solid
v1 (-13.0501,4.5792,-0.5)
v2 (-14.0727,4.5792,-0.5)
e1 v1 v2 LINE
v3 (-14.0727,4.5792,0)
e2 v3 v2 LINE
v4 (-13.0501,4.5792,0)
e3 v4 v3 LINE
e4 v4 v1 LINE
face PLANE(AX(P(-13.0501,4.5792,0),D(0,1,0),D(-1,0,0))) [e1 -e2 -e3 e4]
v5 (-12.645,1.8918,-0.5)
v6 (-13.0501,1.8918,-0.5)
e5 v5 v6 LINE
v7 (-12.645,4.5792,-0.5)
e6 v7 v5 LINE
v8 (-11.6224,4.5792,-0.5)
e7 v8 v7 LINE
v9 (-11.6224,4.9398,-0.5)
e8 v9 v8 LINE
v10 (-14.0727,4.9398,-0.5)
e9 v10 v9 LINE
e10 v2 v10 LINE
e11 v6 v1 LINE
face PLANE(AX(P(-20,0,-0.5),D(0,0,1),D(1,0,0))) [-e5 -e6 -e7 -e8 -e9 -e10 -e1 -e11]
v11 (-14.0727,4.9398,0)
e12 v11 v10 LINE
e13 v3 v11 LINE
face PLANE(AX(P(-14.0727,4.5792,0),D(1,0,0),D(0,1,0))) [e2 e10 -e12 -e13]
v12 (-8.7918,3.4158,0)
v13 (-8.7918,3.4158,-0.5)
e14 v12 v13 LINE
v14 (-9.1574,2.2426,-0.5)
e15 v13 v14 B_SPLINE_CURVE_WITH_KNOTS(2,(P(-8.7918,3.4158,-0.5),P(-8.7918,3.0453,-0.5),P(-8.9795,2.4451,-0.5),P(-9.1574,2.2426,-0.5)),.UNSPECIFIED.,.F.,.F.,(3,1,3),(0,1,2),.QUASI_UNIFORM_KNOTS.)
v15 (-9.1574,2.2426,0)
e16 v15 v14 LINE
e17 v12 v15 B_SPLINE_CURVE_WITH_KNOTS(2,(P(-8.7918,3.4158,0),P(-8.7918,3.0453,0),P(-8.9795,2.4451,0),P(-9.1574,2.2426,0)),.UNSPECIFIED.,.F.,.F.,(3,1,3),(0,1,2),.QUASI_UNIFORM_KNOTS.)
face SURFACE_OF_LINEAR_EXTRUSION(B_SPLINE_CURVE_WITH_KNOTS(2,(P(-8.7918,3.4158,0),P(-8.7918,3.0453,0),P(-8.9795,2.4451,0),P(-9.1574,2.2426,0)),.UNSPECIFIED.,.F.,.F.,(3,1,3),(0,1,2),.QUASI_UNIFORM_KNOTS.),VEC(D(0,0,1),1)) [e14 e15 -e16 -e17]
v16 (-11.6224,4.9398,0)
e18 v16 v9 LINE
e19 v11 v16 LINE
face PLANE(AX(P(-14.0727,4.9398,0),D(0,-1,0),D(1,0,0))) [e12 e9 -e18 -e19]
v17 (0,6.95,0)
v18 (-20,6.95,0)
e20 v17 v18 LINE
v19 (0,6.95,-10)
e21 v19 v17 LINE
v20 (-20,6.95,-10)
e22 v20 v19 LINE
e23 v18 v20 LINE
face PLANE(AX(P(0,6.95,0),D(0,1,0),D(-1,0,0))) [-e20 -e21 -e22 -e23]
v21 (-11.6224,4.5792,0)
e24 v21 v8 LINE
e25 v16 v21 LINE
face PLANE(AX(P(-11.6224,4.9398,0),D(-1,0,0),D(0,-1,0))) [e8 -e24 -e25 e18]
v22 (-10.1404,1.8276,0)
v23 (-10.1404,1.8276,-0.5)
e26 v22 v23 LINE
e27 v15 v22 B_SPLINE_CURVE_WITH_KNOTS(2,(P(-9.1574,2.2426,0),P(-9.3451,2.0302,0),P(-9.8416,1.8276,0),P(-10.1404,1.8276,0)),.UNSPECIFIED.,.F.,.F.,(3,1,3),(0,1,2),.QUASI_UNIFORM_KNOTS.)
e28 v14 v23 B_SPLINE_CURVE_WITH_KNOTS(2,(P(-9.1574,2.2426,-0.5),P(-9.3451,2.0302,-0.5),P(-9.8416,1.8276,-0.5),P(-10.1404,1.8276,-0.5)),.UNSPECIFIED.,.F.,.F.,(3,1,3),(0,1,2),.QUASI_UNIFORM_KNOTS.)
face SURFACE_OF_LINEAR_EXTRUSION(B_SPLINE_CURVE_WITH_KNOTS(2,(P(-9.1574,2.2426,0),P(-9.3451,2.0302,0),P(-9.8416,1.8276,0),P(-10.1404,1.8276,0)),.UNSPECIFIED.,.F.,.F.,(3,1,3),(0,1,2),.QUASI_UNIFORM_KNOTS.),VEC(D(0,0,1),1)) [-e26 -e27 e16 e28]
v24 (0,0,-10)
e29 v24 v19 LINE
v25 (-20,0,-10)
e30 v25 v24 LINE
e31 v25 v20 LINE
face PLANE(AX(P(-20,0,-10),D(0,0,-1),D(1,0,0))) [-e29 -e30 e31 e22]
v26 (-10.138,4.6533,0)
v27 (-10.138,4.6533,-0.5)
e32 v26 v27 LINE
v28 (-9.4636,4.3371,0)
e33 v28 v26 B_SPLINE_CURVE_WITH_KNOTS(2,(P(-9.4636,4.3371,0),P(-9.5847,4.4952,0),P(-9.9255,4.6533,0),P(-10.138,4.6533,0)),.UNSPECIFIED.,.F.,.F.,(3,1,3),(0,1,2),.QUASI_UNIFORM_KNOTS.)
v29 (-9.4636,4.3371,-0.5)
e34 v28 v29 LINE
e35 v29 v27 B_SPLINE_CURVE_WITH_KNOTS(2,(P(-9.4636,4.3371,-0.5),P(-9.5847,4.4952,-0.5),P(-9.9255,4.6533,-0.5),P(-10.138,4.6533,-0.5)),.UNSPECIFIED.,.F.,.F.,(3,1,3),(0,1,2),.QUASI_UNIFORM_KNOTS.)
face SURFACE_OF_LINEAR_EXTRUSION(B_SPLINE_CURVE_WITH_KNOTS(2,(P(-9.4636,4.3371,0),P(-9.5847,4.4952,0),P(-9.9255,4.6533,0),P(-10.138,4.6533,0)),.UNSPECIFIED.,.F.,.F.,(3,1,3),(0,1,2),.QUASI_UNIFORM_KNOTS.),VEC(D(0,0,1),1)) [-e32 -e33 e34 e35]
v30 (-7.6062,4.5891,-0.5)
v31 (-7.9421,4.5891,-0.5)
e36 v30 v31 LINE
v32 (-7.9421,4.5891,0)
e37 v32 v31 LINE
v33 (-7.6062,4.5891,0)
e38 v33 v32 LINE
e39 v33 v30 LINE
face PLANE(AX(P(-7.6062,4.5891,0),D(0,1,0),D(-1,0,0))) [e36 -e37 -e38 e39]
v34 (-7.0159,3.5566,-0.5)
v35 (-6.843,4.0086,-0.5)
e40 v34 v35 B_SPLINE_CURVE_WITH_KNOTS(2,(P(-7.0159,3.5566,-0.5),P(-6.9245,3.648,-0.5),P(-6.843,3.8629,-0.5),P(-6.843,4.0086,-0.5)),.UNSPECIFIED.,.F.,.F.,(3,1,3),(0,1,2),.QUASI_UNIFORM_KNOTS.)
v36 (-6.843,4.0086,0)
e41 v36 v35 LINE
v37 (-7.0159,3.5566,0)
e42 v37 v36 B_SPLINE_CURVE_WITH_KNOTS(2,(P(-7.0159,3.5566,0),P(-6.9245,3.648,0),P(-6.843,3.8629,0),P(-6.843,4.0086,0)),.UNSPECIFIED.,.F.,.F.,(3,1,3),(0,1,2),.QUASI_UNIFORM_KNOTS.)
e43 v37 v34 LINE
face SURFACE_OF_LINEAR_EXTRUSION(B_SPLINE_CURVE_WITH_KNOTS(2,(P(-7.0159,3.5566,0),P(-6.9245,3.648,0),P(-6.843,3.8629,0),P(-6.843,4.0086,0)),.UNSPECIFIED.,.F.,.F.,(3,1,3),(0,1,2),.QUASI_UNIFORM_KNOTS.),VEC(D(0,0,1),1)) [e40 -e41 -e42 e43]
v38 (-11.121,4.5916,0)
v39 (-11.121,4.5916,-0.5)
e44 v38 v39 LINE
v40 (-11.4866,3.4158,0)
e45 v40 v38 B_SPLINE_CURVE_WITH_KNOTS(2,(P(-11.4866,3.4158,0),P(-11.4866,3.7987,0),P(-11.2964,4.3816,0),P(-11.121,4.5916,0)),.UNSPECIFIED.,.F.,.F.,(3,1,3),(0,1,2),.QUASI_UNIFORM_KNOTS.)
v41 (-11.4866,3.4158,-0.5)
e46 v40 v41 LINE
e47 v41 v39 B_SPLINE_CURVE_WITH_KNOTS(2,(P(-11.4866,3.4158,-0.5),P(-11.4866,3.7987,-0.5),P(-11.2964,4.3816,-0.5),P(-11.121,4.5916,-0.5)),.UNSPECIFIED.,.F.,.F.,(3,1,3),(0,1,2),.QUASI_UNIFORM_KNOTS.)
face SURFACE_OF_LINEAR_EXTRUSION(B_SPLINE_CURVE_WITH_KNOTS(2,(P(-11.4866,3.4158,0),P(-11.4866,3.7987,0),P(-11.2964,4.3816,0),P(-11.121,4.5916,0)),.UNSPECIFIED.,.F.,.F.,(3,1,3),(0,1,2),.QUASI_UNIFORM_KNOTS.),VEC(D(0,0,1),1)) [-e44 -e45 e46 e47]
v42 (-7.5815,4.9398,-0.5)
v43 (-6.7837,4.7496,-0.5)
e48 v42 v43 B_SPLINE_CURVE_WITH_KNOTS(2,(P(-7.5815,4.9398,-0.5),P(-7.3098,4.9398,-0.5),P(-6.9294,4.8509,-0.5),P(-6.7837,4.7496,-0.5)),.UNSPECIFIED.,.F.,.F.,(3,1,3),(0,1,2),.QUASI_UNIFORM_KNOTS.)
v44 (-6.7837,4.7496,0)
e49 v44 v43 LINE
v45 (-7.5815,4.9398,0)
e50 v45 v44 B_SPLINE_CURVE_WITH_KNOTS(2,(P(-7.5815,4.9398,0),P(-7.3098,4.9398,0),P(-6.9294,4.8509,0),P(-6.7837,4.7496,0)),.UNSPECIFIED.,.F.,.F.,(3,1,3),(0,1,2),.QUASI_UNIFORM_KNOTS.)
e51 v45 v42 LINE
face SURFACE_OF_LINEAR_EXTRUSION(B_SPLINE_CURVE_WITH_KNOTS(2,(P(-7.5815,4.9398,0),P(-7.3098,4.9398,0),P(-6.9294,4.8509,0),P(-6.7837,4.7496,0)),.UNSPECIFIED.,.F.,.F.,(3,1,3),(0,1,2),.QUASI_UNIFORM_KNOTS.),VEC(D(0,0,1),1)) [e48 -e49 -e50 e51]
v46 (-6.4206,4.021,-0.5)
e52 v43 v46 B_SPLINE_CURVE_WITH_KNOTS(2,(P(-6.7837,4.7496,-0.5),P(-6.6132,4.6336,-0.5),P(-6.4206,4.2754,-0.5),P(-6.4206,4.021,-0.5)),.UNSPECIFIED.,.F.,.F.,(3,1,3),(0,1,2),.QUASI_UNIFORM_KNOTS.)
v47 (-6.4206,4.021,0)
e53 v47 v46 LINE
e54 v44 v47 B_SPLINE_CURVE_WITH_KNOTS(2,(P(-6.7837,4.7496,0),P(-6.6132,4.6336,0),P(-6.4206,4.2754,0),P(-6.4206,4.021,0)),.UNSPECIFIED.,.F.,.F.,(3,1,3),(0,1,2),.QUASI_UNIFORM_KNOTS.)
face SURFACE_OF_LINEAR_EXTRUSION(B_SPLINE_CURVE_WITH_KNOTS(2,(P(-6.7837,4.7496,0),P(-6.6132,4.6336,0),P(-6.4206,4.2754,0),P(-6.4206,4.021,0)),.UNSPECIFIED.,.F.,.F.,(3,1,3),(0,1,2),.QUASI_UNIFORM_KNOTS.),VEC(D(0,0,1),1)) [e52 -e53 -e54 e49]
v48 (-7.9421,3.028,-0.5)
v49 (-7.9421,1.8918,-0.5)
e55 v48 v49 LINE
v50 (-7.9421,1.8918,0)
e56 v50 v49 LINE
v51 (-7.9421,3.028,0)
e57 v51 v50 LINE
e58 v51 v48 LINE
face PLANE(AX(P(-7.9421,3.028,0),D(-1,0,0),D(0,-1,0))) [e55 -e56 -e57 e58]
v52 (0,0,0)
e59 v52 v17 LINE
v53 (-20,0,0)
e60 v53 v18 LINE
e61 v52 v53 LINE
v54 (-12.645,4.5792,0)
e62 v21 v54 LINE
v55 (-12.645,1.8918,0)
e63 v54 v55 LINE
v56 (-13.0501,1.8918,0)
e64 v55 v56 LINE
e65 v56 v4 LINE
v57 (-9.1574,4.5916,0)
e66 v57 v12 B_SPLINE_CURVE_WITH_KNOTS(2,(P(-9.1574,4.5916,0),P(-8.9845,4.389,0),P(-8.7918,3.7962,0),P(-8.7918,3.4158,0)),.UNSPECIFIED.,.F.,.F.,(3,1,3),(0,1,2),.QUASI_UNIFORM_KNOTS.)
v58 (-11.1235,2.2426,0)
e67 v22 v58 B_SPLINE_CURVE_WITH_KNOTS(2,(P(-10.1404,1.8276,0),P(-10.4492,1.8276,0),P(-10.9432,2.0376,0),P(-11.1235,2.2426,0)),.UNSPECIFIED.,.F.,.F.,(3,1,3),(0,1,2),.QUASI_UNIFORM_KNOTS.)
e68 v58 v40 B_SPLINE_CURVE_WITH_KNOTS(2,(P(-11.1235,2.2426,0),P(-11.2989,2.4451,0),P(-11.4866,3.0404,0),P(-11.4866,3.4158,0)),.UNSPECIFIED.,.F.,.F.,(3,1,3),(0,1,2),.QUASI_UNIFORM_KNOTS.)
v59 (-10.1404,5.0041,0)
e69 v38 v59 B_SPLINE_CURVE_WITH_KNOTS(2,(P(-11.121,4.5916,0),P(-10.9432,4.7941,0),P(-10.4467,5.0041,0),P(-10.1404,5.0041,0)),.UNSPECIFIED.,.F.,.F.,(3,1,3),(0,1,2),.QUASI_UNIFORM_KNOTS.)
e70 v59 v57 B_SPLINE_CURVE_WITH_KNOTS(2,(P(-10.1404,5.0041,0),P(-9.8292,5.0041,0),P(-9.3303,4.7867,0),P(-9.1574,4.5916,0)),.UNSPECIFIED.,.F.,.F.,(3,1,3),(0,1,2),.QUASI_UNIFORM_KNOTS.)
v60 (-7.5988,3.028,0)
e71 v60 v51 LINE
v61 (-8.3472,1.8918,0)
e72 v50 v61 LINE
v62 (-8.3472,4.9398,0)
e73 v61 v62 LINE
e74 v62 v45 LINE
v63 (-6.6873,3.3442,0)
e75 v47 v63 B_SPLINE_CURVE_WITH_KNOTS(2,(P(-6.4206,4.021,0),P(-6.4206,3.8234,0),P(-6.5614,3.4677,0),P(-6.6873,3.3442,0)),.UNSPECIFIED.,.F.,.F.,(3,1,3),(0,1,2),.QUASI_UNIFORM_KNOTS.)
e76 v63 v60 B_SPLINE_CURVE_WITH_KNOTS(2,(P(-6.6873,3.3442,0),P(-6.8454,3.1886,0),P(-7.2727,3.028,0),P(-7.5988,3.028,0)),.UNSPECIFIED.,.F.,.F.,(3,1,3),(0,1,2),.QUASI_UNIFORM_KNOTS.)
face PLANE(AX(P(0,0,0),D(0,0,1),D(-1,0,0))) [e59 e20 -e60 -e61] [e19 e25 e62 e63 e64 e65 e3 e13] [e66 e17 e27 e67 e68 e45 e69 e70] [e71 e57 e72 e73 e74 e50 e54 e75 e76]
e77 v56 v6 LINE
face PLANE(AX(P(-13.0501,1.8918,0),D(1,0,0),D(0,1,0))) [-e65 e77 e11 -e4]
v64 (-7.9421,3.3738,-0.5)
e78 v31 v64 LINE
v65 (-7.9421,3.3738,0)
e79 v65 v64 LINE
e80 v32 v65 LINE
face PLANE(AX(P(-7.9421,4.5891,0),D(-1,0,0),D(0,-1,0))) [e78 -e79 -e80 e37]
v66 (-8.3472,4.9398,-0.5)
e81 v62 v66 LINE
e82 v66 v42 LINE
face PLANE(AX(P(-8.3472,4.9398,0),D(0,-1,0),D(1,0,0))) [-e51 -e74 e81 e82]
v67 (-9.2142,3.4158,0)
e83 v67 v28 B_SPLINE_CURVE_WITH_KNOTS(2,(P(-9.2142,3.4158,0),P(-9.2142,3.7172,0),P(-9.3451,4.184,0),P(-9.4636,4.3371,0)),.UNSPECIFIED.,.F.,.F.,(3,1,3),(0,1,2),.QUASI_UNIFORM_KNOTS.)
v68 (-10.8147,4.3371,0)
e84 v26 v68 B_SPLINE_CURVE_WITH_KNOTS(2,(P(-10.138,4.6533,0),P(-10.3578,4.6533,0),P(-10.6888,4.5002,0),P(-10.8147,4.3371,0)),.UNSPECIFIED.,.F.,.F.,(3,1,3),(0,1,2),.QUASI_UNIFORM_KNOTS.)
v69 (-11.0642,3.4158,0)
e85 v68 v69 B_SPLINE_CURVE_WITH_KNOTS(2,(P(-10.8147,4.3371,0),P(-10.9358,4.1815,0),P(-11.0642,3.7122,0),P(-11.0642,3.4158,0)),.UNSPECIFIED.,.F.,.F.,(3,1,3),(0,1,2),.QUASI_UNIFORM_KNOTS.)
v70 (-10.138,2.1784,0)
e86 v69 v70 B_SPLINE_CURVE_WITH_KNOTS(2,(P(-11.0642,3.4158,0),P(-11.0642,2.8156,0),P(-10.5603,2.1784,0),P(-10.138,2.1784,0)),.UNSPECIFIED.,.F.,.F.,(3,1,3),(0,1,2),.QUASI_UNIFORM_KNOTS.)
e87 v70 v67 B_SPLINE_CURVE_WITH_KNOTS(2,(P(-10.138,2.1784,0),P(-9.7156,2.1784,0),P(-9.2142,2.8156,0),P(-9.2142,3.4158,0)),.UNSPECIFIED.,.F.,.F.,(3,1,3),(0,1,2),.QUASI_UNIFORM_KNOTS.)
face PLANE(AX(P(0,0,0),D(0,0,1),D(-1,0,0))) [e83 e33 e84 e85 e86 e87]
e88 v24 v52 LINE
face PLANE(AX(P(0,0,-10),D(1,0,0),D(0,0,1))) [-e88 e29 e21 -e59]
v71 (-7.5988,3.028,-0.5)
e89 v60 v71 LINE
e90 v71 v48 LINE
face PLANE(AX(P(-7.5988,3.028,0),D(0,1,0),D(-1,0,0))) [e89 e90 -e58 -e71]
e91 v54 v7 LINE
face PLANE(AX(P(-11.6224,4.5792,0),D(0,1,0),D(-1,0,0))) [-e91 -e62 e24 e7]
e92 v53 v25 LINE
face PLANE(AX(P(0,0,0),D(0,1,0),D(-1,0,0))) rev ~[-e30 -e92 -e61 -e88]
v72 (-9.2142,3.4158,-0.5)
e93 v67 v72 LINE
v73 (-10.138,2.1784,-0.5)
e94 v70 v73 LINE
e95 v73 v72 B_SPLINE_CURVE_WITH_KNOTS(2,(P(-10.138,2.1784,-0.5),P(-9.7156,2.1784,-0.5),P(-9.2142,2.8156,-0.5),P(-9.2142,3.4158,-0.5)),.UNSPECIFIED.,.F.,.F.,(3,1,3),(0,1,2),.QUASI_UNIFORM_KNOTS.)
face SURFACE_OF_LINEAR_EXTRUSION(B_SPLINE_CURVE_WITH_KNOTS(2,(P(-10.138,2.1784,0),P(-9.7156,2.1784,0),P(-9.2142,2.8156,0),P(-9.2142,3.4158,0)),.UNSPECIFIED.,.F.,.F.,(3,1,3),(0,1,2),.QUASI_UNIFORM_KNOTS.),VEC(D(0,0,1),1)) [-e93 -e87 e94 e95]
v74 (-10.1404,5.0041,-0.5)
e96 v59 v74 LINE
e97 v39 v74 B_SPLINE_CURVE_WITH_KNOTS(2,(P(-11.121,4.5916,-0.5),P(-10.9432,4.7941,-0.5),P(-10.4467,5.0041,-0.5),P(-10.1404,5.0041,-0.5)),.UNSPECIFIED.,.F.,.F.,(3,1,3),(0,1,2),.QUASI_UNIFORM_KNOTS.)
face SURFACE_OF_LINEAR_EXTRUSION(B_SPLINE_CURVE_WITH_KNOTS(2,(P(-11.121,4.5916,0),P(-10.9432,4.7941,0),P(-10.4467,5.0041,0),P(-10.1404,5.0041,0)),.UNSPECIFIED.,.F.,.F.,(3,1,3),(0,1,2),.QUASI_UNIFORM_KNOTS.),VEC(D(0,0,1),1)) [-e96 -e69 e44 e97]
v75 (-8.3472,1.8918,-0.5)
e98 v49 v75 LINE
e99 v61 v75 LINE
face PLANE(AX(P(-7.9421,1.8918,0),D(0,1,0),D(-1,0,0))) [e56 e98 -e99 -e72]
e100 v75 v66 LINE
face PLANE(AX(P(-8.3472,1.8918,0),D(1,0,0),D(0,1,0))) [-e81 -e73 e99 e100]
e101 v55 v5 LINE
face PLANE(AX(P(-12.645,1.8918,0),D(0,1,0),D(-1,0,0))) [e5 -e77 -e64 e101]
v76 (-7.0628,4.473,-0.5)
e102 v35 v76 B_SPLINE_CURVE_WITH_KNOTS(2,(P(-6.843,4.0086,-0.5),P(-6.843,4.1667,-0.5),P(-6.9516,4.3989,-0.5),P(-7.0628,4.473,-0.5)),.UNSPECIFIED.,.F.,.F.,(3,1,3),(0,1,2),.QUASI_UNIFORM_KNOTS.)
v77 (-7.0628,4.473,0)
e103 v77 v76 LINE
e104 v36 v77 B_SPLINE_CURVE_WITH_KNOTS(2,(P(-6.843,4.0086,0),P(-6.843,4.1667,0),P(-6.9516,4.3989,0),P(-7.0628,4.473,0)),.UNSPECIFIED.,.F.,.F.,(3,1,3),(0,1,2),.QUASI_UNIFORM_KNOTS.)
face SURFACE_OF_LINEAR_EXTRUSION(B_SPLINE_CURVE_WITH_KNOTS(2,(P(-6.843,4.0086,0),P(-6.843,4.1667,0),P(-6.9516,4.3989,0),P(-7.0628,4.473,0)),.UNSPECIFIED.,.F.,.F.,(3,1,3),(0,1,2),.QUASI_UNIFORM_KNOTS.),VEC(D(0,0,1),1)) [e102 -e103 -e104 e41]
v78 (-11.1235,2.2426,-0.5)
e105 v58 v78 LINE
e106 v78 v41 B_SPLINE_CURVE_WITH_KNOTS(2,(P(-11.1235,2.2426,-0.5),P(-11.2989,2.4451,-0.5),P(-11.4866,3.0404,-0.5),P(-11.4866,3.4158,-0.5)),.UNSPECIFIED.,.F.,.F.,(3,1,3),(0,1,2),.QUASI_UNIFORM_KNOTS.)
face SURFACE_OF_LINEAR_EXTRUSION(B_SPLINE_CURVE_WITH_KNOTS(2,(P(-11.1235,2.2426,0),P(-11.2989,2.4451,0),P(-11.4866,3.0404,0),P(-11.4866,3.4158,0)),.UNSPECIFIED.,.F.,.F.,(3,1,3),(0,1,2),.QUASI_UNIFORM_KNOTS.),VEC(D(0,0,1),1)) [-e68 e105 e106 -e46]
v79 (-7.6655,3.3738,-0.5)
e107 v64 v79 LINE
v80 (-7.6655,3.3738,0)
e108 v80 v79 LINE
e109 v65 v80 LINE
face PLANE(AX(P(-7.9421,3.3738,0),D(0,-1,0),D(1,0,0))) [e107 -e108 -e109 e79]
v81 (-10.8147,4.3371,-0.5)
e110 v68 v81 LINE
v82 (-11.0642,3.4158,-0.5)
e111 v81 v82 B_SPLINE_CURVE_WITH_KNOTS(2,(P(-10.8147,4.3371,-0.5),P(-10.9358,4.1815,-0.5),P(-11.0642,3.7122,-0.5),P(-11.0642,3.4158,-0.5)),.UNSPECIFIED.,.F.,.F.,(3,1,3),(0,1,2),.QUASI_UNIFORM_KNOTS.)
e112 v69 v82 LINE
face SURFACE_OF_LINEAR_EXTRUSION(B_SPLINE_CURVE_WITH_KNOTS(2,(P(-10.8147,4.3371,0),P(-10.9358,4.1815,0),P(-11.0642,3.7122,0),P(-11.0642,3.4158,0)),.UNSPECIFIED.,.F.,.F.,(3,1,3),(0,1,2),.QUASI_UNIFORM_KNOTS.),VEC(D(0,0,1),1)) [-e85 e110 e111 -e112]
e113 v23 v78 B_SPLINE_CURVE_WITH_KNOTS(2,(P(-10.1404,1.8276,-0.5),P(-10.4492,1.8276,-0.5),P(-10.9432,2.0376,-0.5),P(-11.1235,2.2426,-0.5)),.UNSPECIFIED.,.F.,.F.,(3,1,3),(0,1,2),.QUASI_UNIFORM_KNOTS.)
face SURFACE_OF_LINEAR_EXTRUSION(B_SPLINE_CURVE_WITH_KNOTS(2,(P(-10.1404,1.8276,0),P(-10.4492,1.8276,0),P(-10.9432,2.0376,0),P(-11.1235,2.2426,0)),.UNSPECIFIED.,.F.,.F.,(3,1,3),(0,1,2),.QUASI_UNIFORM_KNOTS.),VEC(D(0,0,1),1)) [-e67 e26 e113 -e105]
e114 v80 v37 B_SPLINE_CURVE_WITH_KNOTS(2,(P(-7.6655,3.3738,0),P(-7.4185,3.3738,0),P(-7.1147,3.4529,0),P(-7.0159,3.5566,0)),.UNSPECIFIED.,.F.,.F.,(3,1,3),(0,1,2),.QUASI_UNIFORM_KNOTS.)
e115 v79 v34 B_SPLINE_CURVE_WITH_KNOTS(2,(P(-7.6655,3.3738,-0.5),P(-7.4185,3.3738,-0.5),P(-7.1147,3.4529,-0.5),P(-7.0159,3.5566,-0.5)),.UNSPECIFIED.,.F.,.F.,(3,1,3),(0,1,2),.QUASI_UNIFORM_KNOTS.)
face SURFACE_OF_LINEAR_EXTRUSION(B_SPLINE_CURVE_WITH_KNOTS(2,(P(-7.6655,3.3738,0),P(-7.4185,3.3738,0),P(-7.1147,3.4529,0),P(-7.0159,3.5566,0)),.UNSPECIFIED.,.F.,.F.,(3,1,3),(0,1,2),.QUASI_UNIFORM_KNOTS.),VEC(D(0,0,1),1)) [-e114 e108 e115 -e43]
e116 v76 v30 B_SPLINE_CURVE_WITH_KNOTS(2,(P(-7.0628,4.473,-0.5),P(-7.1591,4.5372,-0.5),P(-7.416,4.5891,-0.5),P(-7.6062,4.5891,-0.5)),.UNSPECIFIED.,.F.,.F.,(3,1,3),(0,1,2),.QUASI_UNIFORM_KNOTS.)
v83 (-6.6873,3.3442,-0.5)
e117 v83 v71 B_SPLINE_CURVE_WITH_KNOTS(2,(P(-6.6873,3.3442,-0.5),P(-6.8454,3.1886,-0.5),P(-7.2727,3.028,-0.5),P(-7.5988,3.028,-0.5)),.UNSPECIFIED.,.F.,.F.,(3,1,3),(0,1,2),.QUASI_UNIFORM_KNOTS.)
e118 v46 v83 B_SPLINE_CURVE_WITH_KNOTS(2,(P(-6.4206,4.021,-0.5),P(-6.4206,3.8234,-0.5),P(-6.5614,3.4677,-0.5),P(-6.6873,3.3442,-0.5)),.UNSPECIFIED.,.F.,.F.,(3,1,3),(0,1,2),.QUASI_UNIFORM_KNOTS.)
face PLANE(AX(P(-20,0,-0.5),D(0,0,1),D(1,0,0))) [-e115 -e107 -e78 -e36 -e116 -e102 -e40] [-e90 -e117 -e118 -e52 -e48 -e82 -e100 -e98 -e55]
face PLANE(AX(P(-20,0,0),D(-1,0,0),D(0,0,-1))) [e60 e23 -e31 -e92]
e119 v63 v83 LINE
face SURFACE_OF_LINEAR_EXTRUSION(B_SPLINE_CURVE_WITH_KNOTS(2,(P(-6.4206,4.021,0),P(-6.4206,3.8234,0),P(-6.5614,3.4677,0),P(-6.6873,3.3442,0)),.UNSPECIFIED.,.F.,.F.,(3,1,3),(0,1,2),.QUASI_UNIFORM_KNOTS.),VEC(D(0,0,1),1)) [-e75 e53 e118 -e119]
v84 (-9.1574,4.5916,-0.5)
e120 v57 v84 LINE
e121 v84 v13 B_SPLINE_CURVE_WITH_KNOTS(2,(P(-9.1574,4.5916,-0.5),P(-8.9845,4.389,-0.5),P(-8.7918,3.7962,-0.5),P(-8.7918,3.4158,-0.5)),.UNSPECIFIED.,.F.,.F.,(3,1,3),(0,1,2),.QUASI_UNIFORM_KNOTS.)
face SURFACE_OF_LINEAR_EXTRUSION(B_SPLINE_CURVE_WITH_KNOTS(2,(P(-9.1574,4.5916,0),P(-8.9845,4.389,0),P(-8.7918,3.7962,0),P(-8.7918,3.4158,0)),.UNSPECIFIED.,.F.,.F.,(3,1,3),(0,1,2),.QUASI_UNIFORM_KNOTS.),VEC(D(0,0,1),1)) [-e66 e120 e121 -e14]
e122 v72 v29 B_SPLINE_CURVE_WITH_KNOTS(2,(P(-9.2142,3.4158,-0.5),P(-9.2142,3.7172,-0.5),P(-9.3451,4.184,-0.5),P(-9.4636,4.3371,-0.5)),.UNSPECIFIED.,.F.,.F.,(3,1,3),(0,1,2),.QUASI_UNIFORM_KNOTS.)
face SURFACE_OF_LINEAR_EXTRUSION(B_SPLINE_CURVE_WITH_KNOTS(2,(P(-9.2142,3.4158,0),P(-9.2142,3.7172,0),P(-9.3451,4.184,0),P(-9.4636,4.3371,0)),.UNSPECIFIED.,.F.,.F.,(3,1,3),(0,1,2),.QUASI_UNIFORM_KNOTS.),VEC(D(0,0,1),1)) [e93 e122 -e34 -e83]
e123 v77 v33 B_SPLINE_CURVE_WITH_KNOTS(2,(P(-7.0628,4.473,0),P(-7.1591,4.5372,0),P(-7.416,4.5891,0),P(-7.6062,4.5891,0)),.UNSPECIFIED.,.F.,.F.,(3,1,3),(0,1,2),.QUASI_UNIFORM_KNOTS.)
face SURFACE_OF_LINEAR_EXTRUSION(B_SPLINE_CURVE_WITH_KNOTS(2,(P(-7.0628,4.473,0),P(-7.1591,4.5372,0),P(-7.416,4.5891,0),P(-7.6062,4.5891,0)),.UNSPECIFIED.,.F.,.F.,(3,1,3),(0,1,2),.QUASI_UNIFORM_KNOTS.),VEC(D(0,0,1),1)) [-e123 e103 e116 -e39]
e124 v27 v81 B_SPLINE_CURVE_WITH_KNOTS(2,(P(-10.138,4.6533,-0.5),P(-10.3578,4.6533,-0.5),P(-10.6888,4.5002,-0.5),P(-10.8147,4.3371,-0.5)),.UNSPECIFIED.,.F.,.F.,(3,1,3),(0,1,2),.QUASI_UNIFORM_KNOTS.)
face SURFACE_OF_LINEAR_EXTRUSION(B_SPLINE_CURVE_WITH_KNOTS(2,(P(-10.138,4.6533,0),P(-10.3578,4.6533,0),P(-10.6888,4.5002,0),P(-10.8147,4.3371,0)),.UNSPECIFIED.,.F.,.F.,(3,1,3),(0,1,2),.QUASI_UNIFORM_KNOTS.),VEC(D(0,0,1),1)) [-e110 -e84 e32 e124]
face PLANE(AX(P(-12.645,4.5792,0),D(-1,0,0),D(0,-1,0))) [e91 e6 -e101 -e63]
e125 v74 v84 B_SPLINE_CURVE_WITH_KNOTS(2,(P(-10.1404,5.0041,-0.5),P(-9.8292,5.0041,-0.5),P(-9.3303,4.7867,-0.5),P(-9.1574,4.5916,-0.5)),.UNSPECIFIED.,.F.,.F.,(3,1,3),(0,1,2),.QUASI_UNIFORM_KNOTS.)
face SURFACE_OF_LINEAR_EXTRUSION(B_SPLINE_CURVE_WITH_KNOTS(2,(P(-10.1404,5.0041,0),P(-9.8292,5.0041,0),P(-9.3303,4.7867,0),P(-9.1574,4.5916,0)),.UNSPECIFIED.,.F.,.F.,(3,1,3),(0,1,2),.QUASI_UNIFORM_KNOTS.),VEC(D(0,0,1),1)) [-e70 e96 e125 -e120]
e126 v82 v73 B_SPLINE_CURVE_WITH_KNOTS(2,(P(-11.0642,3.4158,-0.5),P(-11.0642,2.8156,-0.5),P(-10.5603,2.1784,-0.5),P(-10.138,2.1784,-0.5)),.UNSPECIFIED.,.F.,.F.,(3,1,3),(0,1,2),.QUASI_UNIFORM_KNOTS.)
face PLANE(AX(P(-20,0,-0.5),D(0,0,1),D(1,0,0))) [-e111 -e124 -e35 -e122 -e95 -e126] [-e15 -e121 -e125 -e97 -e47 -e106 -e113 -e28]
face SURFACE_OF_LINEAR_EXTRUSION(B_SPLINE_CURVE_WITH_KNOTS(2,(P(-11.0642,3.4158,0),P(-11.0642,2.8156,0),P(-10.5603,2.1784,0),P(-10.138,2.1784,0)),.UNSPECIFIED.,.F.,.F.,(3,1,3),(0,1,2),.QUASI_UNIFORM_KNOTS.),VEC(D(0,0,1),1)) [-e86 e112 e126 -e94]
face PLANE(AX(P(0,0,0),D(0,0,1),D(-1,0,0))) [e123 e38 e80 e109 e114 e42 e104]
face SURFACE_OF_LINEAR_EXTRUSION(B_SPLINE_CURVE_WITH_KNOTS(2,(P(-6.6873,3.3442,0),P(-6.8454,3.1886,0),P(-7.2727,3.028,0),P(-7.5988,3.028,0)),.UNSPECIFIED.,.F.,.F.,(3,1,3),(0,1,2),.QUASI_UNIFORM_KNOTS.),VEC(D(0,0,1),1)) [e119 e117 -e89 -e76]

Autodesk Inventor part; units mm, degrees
ref_plane "YZ Plane" through (0, 0, 0) normal (1, 0, 0) x (0, 1, 0)
ref_plane "XZ Plane" through (0, 0, 0) normal (0, 1, 0) x (-1, 0, 0)
ref_plane "XY Plane" through (0, 0, 0) normal (0, 0, 1) x (1, 0, 0)
sketch "Sketch1" plane through (0, 0, 0) normal (0, 1, 0) x (-1, 0, 0)
  line L0 (0, 0) -> (20, 0)
  line L1 (20, 0) -> (20, -10)
  line L2 (20, -10) -> (0, -10)
  line L3 (0, -10) -> (0, 0)
  dimension "d0" = 20
  dimension "d1" = 10
extrude "Extrusion1" add sketch "Sketch1" along normal blind 6.95
sketch "Sketch2" plane through (-20, 0, 0) normal (0, 0, 1) x (1, 0, 0)
  line L0 (5.9298, 5.0041) -> (16.3941, 5.0041) construction
  line L1 (16.3941, 5.0041) -> (16.3941, 1.9722) construction
  line L2 (16.3941, 1.9722) -> (5.9298, 1.9722) construction
  line L3 (5.9298, 1.9722) -> (5.9298, 5.0041) construction
  line L4 (6.9499, 1.8918) -> (6.9499, 4.5792)
  line L5 (6.9499, 4.5792) -> (5.9273, 4.5792)
  line L6 (5.9273, 4.5792) -> (5.9273, 4.9398)
  line L7 (5.9273, 4.9398) -> (8.3776, 4.9398)
  line L8 (8.3776, 4.9398) -> (8.3776, 4.5792)
  line L9 (8.3776, 4.5792) -> (7.355, 4.5792)
  line L10 (7.355, 4.5792) -> (7.355, 1.8918)
  line L11 (7.355, 1.8918) -> (6.9499, 1.8918)
  spline S0 degree 2 poles (10.8426, 4.5916) (11.0155, 4.389) (11.2082, 3.7962) (11.2082, 3.4158) knots 0 0 0 1 2 2 2
  spline S1 degree 2 poles (11.2082, 3.4158) (11.2082, 3.0453) (11.0205, 2.4451) (10.8426, 2.2426) knots 0 0 0 1 2 2 2
  spline S2 degree 2 poles (10.8426, 2.2426) (10.6549, 2.0302) (10.1584, 1.8276) (9.8596, 1.8276) knots 0 0 0 1 2 2 2
  spline S3 degree 2 poles (9.8596, 1.8276) (9.5508, 1.8276) (9.0568, 2.0376) (8.8765, 2.2426) knots 0 0 0 1 2 2 2
  spline S4 degree 2 poles (8.8765, 2.2426) (8.7011, 2.4451) (8.5134, 3.0404) (8.5134, 3.4158) knots 0 0 0 1 2 2 2
  spline S5 degree 2 poles (8.5134, 3.4158) (8.5134, 3.7987) (8.7036, 4.3816) (8.879, 4.5916) knots 0 0 0 1 2 2 2
  spline S6 degree 2 poles (8.879, 4.5916) (9.0568, 4.7941) (9.5533, 5.0041) (9.8596, 5.0041) knots 0 0 0 1 2 2 2
  spline S7 degree 2 poles (9.8596, 5.0041) (10.1708, 5.0041) (10.6697, 4.7867) (10.8426, 4.5916) knots 0 0 0 1 2 2 2
  spline S8 degree 2 poles (10.7858, 3.4158) (10.7858, 3.7172) (10.6549, 4.184) (10.5364, 4.3371) knots 0 0 0 1 2 2 2
  spline S9 degree 2 poles (10.5364, 4.3371) (10.4153, 4.4952) (10.0745, 4.6533) (9.862, 4.6533) knots 0 0 0 1 2 2 2
  spline S10 degree 2 poles (9.862, 4.6533) (9.6422, 4.6533) (9.3112, 4.5002) (9.1853, 4.3371) knots 0 0 0 1 2 2 2
  spline S11 degree 2 poles (9.1853, 4.3371) (9.0642, 4.1815) (8.9358, 3.7122) (8.9358, 3.4158) knots 0 0 0 1 2 2 2
  spline S12 degree 2 poles (8.9358, 3.4158) (8.9358, 2.8156) (9.4397, 2.1784) (9.862, 2.1784) knots 0 0 0 1 2 2 2
  spline S13 degree 2 poles (9.862, 2.1784) (10.2844, 2.1784) (10.7858, 2.8156) (10.7858, 3.4158) knots 0 0 0 1 2 2 2
  spline S14 degree 2 poles (13.5794, 4.021) (13.5794, 3.8234) (13.4386, 3.4677) (13.3127, 3.3442) knots 0 0 0 1 2 2 2
  spline S15 degree 2 poles (13.3127, 3.3442) (13.1546, 3.1886) (12.7273, 3.028) (12.4012, 3.028) knots 0 0 0 1 2 2 2
  line L12 (12.4012, 3.028) -> (12.0579, 3.028)
  line L13 (12.0579, 3.028) -> (12.0579, 1.8918)
  line L14 (12.0579, 1.8918) -> (11.6528, 1.8918)
  line L15 (11.6528, 1.8918) -> (11.6528, 4.9398)
  line L16 (11.6528, 4.9398) -> (12.4185, 4.9398)
  spline S16 degree 2 poles (12.4185, 4.9398) (12.6902, 4.9398) (13.0706, 4.8509) (13.2163, 4.7496) knots 0 0 0 1 2 2 2
  spline S17 degree 2 poles (13.2163, 4.7496) (13.3868, 4.6336) (13.5794, 4.2754) (13.5794, 4.021) knots 0 0 0 1 2 2 2
  spline S18 degree 2 poles (13.157, 4.0086) (13.157, 4.1667) (13.0484, 4.3989) (12.9372, 4.473) knots 0 0 0 1 2 2 2
  spline S19 degree 2 poles (12.9372, 4.473) (12.8409, 4.5372) (12.584, 4.5891) (12.3938, 4.5891) knots 0 0 0 1 2 2 2
  line L17 (12.3938, 4.5891) -> (12.0579, 4.5891)
  line L18 (12.0579, 4.5891) -> (12.0579, 3.3738)
  line L19 (12.0579, 3.3738) -> (12.3345, 3.3738)
  spline S20 degree 2 poles (12.3345, 3.3738) (12.5815, 3.3738) (12.8853, 3.4529) (12.9841, 3.5566) knots 0 0 0 1 2 2 2
  spline S21 degree 2 poles (12.9841, 3.5566) (13.0755, 3.648) (13.157, 3.8629) (13.157, 4.0086) knots 0 0 0 1 2 2 2
  point P0 (20, 0)
extrude "Extrusion3" cut sketch "Sketch2" against normal blind 0.5
properties part number "cable_jig_7.5mm_shim"
